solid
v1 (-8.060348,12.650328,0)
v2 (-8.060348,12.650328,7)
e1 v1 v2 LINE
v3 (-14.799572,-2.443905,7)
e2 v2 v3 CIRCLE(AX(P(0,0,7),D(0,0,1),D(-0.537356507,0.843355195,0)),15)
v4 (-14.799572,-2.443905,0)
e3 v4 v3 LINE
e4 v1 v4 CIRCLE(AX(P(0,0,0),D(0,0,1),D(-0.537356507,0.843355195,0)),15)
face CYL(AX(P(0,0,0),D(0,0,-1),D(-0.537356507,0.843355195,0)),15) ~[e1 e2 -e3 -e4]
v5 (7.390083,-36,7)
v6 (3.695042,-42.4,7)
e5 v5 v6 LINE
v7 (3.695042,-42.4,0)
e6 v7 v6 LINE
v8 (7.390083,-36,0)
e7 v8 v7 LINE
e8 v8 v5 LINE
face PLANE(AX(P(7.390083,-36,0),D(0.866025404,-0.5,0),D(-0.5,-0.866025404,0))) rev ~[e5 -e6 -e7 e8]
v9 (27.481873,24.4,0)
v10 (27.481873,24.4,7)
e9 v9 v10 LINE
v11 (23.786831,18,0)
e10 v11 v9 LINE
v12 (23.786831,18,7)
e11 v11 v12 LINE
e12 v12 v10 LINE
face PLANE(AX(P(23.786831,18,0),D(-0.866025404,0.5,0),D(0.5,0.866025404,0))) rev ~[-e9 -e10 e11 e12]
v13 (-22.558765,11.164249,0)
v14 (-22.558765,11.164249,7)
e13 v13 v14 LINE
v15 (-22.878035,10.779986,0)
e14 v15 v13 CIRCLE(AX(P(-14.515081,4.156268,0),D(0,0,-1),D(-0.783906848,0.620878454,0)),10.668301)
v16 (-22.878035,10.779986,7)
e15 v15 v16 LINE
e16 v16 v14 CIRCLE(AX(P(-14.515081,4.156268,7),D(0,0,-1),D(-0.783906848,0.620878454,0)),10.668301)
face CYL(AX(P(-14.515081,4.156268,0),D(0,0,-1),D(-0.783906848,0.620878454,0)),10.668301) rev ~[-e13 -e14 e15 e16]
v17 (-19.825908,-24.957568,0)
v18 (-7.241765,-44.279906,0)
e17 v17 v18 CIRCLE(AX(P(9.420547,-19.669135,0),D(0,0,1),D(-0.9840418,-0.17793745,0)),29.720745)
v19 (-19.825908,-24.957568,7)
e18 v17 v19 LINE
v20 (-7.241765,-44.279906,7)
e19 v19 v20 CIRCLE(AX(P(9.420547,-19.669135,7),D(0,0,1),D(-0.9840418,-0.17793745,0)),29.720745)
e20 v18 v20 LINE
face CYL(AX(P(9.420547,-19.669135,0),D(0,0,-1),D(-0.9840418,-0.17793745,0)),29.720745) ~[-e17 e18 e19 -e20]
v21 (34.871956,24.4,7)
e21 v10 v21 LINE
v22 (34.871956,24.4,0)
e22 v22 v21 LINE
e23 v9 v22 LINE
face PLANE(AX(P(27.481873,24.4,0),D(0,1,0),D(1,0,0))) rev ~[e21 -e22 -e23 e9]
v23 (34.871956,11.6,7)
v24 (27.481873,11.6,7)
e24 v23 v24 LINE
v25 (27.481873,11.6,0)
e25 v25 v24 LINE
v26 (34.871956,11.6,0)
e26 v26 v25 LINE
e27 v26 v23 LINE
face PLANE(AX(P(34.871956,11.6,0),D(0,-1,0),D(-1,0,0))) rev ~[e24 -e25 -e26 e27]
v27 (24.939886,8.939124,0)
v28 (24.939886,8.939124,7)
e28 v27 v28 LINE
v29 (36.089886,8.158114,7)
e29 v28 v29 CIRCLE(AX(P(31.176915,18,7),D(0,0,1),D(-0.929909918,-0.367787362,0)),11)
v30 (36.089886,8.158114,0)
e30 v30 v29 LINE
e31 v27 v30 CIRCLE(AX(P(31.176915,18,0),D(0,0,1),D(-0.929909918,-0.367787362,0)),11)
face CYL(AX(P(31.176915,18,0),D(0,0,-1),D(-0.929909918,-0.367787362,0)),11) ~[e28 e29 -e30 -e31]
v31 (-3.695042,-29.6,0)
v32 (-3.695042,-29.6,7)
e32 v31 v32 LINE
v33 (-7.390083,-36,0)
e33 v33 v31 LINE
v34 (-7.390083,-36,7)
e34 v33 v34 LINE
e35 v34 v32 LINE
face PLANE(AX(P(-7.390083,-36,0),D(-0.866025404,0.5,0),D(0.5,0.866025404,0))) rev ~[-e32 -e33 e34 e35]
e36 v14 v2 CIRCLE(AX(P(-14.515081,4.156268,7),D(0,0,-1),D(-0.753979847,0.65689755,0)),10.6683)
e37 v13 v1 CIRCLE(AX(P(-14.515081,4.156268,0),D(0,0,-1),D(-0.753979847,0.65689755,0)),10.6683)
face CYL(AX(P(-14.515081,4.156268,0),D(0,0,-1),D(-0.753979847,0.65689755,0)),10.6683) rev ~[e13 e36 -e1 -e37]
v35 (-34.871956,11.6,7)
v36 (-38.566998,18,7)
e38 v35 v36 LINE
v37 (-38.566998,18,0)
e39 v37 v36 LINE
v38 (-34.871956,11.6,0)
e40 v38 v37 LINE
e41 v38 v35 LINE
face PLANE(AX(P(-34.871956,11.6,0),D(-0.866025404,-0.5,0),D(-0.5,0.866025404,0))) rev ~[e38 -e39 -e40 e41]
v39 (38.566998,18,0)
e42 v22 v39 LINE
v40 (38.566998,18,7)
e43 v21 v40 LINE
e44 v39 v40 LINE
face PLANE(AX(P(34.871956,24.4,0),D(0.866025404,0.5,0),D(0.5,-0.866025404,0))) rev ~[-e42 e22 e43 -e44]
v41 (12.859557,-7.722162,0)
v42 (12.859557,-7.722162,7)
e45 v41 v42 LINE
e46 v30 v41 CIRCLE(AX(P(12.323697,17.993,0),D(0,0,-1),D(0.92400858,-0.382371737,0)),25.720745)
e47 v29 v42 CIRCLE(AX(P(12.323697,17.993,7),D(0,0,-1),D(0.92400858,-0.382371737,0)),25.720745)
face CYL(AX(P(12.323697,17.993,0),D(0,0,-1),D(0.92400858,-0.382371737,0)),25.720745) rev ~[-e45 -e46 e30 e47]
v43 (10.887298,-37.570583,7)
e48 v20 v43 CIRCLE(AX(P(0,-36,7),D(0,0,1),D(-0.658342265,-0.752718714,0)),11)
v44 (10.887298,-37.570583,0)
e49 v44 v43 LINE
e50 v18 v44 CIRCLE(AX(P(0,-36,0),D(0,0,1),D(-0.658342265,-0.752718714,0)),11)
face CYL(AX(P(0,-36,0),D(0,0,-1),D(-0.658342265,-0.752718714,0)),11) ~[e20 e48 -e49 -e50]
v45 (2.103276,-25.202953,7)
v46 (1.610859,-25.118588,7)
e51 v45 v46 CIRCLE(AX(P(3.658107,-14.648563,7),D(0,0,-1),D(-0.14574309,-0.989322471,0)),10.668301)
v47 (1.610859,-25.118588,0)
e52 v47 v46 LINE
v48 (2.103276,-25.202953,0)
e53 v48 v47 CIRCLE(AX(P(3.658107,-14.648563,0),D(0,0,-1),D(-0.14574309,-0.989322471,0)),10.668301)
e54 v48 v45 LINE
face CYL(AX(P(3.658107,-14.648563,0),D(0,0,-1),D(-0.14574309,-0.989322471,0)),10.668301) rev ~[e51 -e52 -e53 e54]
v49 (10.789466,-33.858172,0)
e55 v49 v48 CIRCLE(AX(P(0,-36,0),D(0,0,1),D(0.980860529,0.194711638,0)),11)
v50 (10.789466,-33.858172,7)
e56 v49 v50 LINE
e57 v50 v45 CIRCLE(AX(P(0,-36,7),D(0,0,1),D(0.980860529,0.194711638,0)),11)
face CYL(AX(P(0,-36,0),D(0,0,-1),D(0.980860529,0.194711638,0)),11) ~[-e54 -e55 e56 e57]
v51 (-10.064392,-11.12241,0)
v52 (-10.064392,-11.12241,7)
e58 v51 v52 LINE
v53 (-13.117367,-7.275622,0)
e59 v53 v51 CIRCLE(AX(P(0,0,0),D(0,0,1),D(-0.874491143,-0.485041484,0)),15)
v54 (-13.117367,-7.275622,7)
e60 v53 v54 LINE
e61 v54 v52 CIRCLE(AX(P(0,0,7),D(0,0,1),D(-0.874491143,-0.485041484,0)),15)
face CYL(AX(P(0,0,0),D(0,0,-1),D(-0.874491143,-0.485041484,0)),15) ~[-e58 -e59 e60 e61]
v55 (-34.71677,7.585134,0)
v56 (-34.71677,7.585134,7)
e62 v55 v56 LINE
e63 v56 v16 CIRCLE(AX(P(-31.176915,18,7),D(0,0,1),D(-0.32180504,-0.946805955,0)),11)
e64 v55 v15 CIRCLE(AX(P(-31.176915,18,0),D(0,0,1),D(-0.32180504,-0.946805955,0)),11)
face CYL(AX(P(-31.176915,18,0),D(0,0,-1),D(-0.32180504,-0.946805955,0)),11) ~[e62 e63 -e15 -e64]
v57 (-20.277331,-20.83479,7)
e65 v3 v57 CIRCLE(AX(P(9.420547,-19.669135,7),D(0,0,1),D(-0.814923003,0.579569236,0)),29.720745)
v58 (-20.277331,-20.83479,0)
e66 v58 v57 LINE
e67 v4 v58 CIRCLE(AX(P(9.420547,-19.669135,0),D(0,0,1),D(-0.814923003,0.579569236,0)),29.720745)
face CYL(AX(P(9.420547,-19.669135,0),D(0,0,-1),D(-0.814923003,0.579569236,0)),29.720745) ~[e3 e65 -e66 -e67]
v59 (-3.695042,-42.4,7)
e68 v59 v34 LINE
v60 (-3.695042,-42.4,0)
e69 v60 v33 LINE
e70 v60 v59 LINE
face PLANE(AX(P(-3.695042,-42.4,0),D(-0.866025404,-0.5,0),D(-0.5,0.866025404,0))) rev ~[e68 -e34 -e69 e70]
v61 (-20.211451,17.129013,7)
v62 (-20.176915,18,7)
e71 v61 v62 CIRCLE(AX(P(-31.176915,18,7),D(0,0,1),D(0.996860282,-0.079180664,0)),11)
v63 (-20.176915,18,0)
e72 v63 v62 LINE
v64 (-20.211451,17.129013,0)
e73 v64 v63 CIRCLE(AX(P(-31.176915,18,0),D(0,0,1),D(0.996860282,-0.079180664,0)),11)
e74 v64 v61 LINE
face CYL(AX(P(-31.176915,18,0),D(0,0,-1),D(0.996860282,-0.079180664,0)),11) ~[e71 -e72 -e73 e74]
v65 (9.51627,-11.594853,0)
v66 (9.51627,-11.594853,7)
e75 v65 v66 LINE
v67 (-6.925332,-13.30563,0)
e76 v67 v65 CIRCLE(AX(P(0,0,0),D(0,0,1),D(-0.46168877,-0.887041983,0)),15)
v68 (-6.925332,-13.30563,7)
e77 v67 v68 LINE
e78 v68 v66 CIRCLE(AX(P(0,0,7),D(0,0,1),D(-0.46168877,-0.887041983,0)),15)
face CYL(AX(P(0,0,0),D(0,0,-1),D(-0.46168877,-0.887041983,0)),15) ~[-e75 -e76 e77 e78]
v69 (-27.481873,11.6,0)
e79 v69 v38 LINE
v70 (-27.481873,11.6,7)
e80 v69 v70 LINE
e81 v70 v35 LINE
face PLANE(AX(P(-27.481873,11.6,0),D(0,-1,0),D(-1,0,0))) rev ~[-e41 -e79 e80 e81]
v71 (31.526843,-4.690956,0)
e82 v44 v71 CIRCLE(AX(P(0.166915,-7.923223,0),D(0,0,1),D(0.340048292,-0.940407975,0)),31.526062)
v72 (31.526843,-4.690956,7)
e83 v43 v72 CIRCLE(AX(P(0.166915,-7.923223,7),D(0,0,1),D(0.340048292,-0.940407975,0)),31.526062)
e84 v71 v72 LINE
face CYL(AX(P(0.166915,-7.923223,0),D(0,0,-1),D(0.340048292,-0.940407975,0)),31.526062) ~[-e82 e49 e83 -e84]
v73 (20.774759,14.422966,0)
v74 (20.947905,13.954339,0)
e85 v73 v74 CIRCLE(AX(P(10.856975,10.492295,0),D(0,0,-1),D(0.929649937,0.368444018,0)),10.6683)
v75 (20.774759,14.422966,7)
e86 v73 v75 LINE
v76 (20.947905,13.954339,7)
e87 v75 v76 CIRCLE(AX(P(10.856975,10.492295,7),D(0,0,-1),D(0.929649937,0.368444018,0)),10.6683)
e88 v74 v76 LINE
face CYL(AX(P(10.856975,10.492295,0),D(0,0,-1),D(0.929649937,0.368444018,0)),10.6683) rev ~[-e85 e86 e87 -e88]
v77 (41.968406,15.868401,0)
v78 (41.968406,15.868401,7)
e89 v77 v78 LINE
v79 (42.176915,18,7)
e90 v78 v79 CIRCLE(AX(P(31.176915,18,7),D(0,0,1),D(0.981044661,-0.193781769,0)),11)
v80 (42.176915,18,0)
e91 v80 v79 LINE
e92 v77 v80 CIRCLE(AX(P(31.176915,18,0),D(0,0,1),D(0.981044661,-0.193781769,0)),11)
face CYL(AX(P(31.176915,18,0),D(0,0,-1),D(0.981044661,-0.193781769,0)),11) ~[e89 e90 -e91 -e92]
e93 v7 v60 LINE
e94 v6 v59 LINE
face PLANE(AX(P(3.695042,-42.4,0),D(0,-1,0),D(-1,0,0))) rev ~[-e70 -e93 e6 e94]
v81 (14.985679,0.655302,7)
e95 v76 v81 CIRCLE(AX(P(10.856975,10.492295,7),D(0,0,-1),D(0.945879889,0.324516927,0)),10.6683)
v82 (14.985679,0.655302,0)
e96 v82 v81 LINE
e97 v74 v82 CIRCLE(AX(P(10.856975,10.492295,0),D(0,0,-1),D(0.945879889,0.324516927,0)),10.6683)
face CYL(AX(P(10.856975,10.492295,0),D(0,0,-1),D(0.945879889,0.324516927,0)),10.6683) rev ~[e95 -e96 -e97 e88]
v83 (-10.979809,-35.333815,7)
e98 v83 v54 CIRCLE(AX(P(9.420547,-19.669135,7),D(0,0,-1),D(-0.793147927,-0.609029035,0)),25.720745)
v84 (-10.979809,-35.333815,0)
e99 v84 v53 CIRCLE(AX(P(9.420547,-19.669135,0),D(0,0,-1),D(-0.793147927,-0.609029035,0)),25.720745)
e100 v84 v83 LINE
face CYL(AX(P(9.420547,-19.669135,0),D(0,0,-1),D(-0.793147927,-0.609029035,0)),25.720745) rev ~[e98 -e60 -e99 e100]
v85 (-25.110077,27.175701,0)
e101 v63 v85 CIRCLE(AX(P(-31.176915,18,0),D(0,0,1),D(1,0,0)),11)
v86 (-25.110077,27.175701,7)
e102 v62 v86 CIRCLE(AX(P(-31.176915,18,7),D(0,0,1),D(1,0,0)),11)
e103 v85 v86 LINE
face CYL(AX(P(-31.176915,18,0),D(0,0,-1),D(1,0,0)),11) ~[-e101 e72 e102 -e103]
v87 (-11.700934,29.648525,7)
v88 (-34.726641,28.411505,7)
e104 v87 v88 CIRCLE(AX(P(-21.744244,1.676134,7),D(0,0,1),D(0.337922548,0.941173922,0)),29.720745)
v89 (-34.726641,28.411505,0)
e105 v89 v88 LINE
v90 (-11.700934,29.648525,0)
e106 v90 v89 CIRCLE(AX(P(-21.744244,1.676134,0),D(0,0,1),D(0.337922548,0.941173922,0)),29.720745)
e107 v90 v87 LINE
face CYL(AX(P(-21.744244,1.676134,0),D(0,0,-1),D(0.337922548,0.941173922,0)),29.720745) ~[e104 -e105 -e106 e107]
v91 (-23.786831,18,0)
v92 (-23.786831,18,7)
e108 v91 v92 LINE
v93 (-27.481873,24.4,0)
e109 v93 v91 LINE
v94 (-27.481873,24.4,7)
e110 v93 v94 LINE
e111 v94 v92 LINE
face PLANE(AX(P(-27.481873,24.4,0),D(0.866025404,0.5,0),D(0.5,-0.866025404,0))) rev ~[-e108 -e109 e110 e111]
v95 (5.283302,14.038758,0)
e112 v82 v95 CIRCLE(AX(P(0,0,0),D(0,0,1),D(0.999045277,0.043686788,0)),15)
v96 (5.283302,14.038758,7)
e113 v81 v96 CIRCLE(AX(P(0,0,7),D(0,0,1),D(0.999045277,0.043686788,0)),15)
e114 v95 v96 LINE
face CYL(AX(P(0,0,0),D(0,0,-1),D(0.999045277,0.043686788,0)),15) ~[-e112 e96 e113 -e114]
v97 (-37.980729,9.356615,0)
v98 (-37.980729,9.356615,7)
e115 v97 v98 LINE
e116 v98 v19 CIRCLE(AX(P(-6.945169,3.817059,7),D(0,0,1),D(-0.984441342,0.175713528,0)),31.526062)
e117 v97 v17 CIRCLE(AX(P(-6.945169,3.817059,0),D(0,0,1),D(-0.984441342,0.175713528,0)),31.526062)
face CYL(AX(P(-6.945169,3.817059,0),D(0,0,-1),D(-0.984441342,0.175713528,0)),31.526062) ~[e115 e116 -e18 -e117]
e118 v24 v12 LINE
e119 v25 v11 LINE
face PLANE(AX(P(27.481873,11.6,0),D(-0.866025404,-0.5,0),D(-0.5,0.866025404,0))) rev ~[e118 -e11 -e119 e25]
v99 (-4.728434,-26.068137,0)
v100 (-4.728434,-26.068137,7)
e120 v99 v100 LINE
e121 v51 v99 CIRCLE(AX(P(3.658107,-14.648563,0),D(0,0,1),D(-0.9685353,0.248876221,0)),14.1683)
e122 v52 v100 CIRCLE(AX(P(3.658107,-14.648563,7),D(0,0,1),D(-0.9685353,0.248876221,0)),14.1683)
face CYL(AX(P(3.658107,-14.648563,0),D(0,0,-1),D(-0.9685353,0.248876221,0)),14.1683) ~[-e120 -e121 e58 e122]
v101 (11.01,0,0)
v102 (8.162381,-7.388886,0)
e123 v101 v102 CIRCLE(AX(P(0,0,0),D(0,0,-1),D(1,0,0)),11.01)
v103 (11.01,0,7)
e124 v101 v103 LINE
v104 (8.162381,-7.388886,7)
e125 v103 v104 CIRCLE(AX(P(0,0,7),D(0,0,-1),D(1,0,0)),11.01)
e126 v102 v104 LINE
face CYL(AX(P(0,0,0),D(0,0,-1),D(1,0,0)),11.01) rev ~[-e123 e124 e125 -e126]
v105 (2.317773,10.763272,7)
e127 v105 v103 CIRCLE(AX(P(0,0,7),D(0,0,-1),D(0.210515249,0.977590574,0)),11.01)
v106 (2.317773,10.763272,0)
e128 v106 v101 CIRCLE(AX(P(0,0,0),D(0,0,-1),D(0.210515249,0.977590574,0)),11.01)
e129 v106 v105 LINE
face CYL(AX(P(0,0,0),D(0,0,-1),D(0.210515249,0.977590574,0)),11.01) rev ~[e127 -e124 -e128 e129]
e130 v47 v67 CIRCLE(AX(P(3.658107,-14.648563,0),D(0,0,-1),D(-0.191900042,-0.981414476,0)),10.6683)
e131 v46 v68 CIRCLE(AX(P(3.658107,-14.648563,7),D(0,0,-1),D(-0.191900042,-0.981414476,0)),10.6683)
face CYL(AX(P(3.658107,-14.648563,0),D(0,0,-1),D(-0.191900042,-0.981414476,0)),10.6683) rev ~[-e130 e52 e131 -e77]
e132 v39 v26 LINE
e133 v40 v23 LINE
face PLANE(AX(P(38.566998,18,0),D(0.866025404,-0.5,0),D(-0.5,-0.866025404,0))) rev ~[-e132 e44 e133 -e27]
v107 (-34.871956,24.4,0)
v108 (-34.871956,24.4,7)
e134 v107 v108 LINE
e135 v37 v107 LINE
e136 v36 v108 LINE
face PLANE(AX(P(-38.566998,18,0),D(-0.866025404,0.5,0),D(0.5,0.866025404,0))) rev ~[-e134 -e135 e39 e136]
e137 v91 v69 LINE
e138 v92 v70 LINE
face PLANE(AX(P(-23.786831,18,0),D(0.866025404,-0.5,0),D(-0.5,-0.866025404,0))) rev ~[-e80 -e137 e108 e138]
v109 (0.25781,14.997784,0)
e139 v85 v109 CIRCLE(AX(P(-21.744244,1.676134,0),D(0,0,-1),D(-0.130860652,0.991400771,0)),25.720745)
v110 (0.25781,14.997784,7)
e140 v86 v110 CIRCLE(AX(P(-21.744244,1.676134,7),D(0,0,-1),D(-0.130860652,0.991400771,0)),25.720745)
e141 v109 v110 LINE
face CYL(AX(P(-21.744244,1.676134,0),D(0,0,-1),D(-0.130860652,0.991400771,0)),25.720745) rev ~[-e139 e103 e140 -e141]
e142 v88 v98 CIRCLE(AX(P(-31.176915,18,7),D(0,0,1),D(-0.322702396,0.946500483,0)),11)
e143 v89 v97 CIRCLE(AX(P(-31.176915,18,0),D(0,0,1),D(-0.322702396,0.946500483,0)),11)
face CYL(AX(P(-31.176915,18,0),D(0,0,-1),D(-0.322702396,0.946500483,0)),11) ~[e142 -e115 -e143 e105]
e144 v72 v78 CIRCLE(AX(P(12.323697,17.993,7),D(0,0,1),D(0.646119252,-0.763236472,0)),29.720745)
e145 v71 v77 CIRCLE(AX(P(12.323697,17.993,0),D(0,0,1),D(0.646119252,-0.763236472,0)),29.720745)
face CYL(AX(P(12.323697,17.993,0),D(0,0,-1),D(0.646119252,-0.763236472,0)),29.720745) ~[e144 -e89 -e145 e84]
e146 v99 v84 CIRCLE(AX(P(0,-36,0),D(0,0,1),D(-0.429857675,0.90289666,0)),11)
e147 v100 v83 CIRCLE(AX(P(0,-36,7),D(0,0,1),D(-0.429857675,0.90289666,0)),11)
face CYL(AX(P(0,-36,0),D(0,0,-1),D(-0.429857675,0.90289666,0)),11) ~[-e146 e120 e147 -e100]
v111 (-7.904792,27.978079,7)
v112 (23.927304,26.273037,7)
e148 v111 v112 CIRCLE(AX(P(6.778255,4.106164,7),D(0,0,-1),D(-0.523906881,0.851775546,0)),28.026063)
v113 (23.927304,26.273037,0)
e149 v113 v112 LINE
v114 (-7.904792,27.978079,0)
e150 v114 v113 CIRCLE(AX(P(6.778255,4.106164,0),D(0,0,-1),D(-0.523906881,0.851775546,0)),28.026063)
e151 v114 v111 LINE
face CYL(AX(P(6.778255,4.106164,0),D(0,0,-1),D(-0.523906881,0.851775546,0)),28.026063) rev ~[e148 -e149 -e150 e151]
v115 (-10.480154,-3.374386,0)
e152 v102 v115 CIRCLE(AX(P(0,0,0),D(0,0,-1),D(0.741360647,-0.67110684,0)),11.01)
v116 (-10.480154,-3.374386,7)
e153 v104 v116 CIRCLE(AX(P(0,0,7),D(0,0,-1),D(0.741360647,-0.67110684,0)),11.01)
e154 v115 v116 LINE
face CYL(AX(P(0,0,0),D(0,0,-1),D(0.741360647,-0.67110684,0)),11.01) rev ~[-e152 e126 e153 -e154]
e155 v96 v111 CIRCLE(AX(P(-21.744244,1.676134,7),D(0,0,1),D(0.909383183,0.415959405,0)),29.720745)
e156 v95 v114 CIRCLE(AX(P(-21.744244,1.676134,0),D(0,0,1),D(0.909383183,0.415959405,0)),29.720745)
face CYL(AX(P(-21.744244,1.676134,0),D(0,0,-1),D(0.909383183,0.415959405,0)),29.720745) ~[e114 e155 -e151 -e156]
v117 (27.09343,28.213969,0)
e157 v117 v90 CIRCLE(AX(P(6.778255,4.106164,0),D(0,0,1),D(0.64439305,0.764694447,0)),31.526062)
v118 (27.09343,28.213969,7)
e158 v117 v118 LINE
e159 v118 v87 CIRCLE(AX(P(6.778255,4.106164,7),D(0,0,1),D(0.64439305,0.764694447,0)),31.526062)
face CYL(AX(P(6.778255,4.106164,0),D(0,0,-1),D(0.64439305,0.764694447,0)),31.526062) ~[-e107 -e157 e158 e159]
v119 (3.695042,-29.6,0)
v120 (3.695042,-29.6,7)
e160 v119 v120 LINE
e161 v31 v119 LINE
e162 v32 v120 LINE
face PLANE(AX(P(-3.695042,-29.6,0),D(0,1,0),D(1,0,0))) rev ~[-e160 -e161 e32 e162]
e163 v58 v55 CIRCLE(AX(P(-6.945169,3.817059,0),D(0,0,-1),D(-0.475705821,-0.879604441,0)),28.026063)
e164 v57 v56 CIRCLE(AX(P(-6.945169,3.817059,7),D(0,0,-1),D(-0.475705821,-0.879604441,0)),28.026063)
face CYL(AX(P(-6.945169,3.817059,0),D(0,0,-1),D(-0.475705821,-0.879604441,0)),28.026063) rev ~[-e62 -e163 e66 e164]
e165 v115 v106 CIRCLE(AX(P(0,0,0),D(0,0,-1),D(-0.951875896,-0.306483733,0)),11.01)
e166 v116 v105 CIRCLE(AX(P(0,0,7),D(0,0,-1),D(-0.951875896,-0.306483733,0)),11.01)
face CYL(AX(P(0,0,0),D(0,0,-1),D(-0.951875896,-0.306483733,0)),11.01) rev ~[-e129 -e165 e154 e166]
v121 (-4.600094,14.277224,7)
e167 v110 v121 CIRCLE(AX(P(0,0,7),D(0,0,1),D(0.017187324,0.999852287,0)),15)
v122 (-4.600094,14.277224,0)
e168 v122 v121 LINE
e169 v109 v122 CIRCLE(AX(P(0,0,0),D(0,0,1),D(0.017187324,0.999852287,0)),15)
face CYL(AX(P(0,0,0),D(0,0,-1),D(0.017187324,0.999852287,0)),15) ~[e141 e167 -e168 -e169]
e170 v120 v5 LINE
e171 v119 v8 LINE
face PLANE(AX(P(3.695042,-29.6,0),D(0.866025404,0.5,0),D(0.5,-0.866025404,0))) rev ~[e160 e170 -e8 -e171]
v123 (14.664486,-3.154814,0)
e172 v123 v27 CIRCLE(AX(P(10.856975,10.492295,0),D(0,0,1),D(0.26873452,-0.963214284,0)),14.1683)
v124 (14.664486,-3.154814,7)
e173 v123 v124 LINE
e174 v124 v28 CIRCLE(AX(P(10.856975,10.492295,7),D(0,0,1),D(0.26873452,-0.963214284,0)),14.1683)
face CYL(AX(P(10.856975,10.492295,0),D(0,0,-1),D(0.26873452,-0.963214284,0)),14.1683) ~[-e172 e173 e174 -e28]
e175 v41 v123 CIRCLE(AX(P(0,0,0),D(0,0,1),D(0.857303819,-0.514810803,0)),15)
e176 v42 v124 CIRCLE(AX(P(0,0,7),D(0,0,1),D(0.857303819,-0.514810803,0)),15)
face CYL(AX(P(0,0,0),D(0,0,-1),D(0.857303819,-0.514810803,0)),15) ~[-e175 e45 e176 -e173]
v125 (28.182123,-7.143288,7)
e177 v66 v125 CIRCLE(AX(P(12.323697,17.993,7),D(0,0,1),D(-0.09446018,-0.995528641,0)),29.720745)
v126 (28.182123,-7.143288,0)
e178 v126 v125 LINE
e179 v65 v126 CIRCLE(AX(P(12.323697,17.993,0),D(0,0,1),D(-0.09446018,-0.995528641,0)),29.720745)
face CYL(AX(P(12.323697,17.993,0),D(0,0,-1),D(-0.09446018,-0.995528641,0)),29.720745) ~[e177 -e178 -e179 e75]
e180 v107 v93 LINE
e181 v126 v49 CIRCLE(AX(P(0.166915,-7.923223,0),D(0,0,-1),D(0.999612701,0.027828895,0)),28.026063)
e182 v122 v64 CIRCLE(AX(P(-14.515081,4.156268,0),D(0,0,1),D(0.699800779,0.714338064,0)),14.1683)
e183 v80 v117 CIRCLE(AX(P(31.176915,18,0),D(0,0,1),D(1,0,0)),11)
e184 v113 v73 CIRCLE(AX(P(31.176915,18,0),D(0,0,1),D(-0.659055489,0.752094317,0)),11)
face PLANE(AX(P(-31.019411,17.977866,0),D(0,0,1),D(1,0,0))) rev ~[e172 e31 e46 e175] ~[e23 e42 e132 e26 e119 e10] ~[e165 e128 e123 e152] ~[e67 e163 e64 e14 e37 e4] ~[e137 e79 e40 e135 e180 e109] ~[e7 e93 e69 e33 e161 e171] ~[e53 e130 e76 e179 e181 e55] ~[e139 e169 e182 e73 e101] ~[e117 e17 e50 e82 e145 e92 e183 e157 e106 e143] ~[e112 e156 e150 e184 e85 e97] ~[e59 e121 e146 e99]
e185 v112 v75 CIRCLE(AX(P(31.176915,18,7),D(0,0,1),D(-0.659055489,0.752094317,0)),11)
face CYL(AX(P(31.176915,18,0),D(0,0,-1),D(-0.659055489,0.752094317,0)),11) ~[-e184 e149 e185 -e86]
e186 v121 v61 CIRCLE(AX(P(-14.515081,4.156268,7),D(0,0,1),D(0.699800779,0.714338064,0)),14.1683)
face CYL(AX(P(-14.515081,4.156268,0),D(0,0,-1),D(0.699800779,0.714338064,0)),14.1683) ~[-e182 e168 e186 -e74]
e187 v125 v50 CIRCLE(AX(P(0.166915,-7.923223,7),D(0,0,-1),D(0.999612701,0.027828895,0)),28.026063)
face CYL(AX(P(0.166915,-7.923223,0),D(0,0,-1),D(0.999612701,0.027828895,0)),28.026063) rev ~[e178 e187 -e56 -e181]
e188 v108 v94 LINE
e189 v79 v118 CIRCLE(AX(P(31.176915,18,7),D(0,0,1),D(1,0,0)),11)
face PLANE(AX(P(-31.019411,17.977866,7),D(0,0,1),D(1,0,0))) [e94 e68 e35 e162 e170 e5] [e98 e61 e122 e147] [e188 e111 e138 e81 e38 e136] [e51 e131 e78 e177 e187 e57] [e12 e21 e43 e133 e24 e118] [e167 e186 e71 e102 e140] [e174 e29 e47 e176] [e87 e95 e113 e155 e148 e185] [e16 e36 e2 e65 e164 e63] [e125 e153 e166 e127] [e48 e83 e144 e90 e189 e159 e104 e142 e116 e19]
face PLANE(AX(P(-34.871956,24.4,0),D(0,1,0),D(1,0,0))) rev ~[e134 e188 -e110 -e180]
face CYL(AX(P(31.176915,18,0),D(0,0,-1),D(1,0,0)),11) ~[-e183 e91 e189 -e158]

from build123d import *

# Parameters (mm, degrees)
F1_DEPTH = 7


with BuildPart() as f1:
    # F0 (on Top) → F1 (new body)
    with BuildSketch(Plane.XY):
        with BuildLine():
            ThreePointArc((-20.1769145362, 18), (-21.488385021, 23.2088766383), (-25.110077415, 27.1757009184))
            ThreePointArc((-25.110077415, 27.1757009184), (-29.7748571992, 28.9102811707), (-34.7266408906, 28.4115053095))
            ThreePointArc((-34.7266408906, 28.4115053095), (-42.0199383865, 19.8517110421), (-37.9807286986, 9.3566145033))
            ThreePointArc((-37.9807286986, 9.3566145033), (-36.4240480944, 8.3321362534), (-34.7167699787, 7.585134497))
            ThreePointArc((-34.7167699787, 7.585134497), (-28.3109335724, 7.379917462), (-22.878035033, 10.7799862195))
            ThreePointArc((-22.878035033, 10.7799862195), (-22.7206495749, 10.9739866522), (-22.5587647959, 11.1642487573))
            ThreePointArc((-22.5587647959, 11.1642487573), (-20.9409937058, 13.9718583996), (-20.2114514306, 17.1290126994))
            ThreePointArc((-20.2114514306, 17.1290126994), (-20.1855521511, 17.5641641149), (-20.1769145362, 18))
        make_face()
        Polygon((-27.4818728134, 24.4), (-23.7868310906, 18), (-27.4818728134, 11.6), (-34.8719562591, 11.6), (-38.5669979819, 18), (-34.8719562591, 24.4), align=None, mode=Mode.SUBTRACT)
        with BuildLine():
            ThreePointArc((-25.110077415, 27.1757009184), (-10.6130898996, 24.8635046125), (0.2578098611, 14.9977843055))
            ThreePointArc((0.2578098611, 14.9977843055), (2.8117454732, 14.7341130508), (5.2833018212, 14.0387578463))
            ThreePointArc((5.2833018212, 14.0387578463), (-0.1548013079, 22.1020653498), (-7.9047923881, 27.9780786067))
            ThreePointArc((-7.9047923881, 27.9780786067), (-9.7736896067, 28.8795995701), (-11.7009340456, 29.6485246209))
            ThreePointArc((-11.7009340456, 29.6485246209), (-23.3386442583, 31.3540820363), (-34.7266408906, 28.4115053095))
            ThreePointArc((-34.7266408906, 28.4115053095), (-29.7748571992, 28.9102811707), (-25.110077415, 27.1757009184))
        make_face()
        with BuildLine():
            ThreePointArc((-10.4801536135, -3.3743859051), (-8.1623807228, 7.3888863123), (2.3177728907, 10.7632722175))
            ThreePointArc((2.3177728907, 10.7632722175), (1.3849026925, 12.9277700022), (0.2578098611, 14.9977843055))
            ThreePointArc((0.2578098611, 14.9977843055), (-2.2008314196, 14.8376662943), (-4.6000937333, 14.2772244377))
            ThreePointArc((-4.6000937333, 14.2772244377), (-6.3822716771, 13.5744837191), (-8.0603476006, 12.6503279229))
            ThreePointArc((-8.0603476006, 12.6503279229), (-13.6968225738, 6.1153128606), (-14.799571843, -2.4439053302))
            ThreePointArc((-14.799571843, -2.4439053302), (-14.1659889408, -4.9320135166), (-13.1173671396, -7.2756222638))
            ThreePointArc((-13.1173671396, -7.2756222638), (-11.8882285824, -5.2645240876), (-10.4801536135, -3.3743859051))
        make_face()
        with BuildLine():
            ThreePointArc((2.3177728907, 10.7632722175), (8.565593369, 6.9174207792), (11.01, 0))
            ThreePointArc((11.01, 0), (10.273458808, -3.9593110665), (8.1623807228, -7.3888863123))
            ThreePointArc((8.1623807228, -7.3888863123), (10.5033258899, -7.6632459146), (12.8595572786, -7.7221620418))
            ThreePointArc((12.8595572786, -7.7221620418), (13.9502116536, -5.5128572283), (14.6644859253, -3.154814186))
            ThreePointArc((14.6644859253, -3.154814186), (14.9158856405, -1.5863024808), (15, 0))
            ThreePointArc((15, 0), (14.9964193596, 0.327729144), (14.9856791478, 0.655301824))
            ThreePointArc((14.9856791478, 0.655301824), (12.1444275762, 8.8041398697), (5.2833018212, 14.0387578463))
            ThreePointArc((5.2833018212, 14.0387578463), (2.8117454732, 14.7341130508), (0.2578098611, 14.9977843055))
            ThreePointArc((0.2578098611, 14.9977843055), (1.3849026925, 12.9277700022), (2.3177728907, 10.7632722175))
        make_face()
        with BuildLine():
            ThreePointArc((12.8595572786, -7.7221620418), (10.5033258899, -7.6632459146), (8.1623807228, -7.3888863123))
            ThreePointArc((8.1623807228, -7.3888863123), (-2.3177728907, -10.7632722175), (-10.4801536135, -3.3743859051))
            ThreePointArc((-10.4801536135, -3.3743859051), (-11.8882285824, -5.2645240876), (-13.1173671396, -7.2756222638))
            ThreePointArc((-13.1173671396, -7.2756222638), (-11.749380234, -9.324809066), (-10.0643921919, -11.1224102517))
            ThreePointArc((-10.0643921919, -11.1224102517), (-8.5647119055, -12.3144512657), (-6.9253315472, -13.3056297469))
            ThreePointArc((-6.9253315472, -13.3056297469), (1.5523949975, -14.9194527303), (9.5162700219, -11.5948525161))
            ThreePointArc((9.5162700219, -11.5948525161), (11.3542434676, -9.8020995342), (12.8595572786, -7.7221620418))
        make_face()
        with BuildLine():
            ThreePointArc((-10.9798086535, -35.3338153916), (-16.2258816717, -21.6229577719), (-13.1173671396, -7.2756222638))
            ThreePointArc((-13.1173671396, -7.2756222638), (-14.1659889408, -4.9320135166), (-14.799571843, -2.4439053302))
            ThreePointArc((-14.799571843, -2.4439053302), (-19.0635494151, -11.1850945401), (-20.2773306285, -20.8347903231))
            ThreePointArc((-20.2773306285, -20.8347903231), (-20.1236220755, -22.9040632731), (-19.8259084836, -24.957568442))
            ThreePointArc((-19.8259084836, -24.957568442), (-15.4841094266, -35.8888998357), (-7.2417649124, -44.2799058541))
            ThreePointArc((-7.2417649124, -44.2799058541), (-10.1496093248, -40.2409233139), (-10.9798086535, -35.3338153916))
        make_face()
        with BuildLine():
            ThreePointArc((-8.0603476006, 12.6503279229), (-6.3822716771, 13.5744837191), (-4.6000937333, 14.2772244377))
            ThreePointArc((-4.6000937333, 14.2772244377), (-11.9690338946, 18.0939285598), (-20.2114514306, 17.1290126994))
            ThreePointArc((-20.2114514306, 17.1290126994), (-20.9409937058, 13.9718583996), (-22.5587647959, 11.1642487573))
            ThreePointArc((-22.5587647959, 11.1642487573), (-15.6028763872, 14.7689652749), (-8.0603476006, 12.6503279229))
        make_face()
        with BuildLine():
            ThreePointArc((36.0898860685, 8.1581144732), (26.8389715713, -3.2405468406), (12.8595572786, -7.7221620418))
            ThreePointArc((12.8595572786, -7.7221620418), (11.3542434676, -9.8020995342), (9.5162700219, -11.5948525161))
            ThreePointArc((9.5162700219, -11.5948525161), (19.218350723, -10.9169708097), (28.1821230165, -7.1432882836))
            ThreePointArc((28.1821230165, -7.1432882836), (29.8973116822, -5.9755362969), (31.5268425292, -4.6909561789))
            ThreePointArc((31.5268425292, -4.6909561789), (38.8227536849, 4.5348177995), (41.9684058031, 15.8684005447))
            ThreePointArc((41.9684058031, 15.8684005447), (39.924466524, 11.3306421432), (36.0898860685, 8.1581144732))
        make_face()
        with BuildLine():
            ThreePointArc((24.9398858547, 8.9391240365), (30.4082951127, 7.0268863042), (36.0898860685, 8.1581144732))
            ThreePointArc((36.0898860685, 8.1581144732), (39.924466524, 11.3306421432), (41.9684058031, 15.8684005447))
            ThreePointArc((41.9684058031, 15.8684005447), (42.1246632531, 16.9291134362), (42.1769145362, 18))
            ThreePointArc((42.1769145362, 18), (37.3446399002, 27.1081921277), (27.0934302026, 28.2139686556))
            ThreePointArc((27.0934302026, 28.2139686556), (25.4278657104, 27.3780828317), (23.9273041549, 26.2730374904))
            ThreePointArc((23.9273041549, 26.2730374904), (20.5466627861, 20.8280289476), (20.774759435, 14.4229664175))
            ThreePointArc((20.774759435, 14.4229664175), (20.8640760091, 14.1896663962), (20.9479054359, 13.9543390126))
            ThreePointArc((20.9479054359, 13.9543390126), (22.570481165, 11.1495033299), (24.9398858547, 8.9391240365))
        make_face()
        Polygon((34.8719562591, 24.4), (38.5669979819, 18), (34.8719562591, 11.6), (27.4818728134, 11.6), (23.7868310906, 18), (27.4818728134, 24.4), align=None, mode=Mode.SUBTRACT)
        with BuildLine():
            ThreePointArc((-4.7284344241, -26.0681367359), (-9.1186855075, -29.8477992055), (-10.9798086535, -35.3338153916))
            ThreePointArc((-10.9798086535, -35.3338153916), (-10.1496093248, -40.2409233139), (-7.2417649124, -44.2799058541))
            ThreePointArc((-7.2417649124, -44.2799058541), (3.8178831222, -46.3161896292), (10.887298496, -37.5705831589))
            ThreePointArc((10.887298496, -37.5705831589), (10.9717884471, -36.7873107849), (11, -36))
            ThreePointArc((11, -36), (10.9472399275, -34.9239247384), (10.7894658239, -33.8581719874))
            ThreePointArc((10.7894658239, -33.8581719874), (7.7642707863, -28.2079464095), (2.1032755979, -25.202952637))
            ThreePointArc((2.1032755979, -25.202952637), (1.8565735658, -25.1636530484), (1.61085936, -25.1185877699))
            ThreePointArc((1.61085936, -25.1185877699), (-1.6294874593, -25.1213617295), (-4.7284344241, -26.0681367359))
        make_face()
        Polygon((3.6950417228, -42.4), (-3.6950417228, -42.4), (-7.3900834456, -36), (-3.6950417228, -29.6), (3.6950417228, -29.6), (7.3900834456, -36), align=None, mode=Mode.SUBTRACT)
        with BuildLine():
            ThreePointArc((15, 0), (14.9158856405, -1.5863024808), (14.6644859253, -3.154814186))
            ThreePointArc((14.6644859253, -3.154814186), (21.6543187343, 1.3185231315), (24.9398858547, 8.9391240365))
            ThreePointArc((24.9398858547, 8.9391240365), (22.570481165, 11.1495033299), (20.9479054359, 13.9543390126))
            ThreePointArc((20.9479054359, 13.9543390126), (20.5917373093, 6.128004686), (14.9856791478, 0.655301824))
            ThreePointArc((14.9856791478, 0.655301824), (14.9964193596, 0.327729144), (15, 0))
        make_face()
        with BuildLine():
            ThreePointArc((-6.9253315472, -13.3056297469), (-8.5647119055, -12.3144512657), (-10.0643921919, -11.1224102517))
            ThreePointArc((-10.0643921919, -11.1224102517), (-9.6852848398, -19.4124516913), (-4.7284344241, -26.0681367359))
            ThreePointArc((-4.7284344241, -26.0681367359), (-1.6294874593, -25.1213617295), (1.61085936, -25.1185877699))
            ThreePointArc((1.61085936, -25.1185877699), (-4.9888609221, -20.8969699609), (-6.9253315472, -13.3056297469))
        make_face()
        with BuildLine():
            ThreePointArc((-19.8259084836, -24.957568442), (-20.1236220755, -22.9040632731), (-20.2773306285, -20.8347903231))
            ThreePointArc((-20.2773306285, -20.8347903231), (-31.931222333, -8.87771769), (-34.7167699787, 7.585134497))
            ThreePointArc((-34.7167699787, 7.585134497), (-36.4240480944, 8.3321362534), (-37.9807286986, 9.3566145033))
            ThreePointArc((-37.9807286986, 9.3566145033), (-34.8113873846, -10.9262960202), (-19.8259084836, -24.957568442))
        make_face()
        with BuildLine():
            ThreePointArc((-11.7009340456, 29.6485246209), (-9.7736896067, 28.8795995701), (-7.9047923881, 27.9780786067))
            ThreePointArc((-7.9047923881, 27.9780786067), (8.2772821194, 32.0921085593), (23.9273041549, 26.2730374904))
            ThreePointArc((23.9273041549, 26.2730374904), (25.4278657104, 27.3780828317), (27.0934302026, 28.2139686556))
            ThreePointArc((27.0934302026, 28.2139686556), (7.9432437696, 35.6106938262), (-11.7009340456, 29.6485246209))
        make_face()
        with BuildLine():
            ThreePointArc((31.5268425292, -4.6909561789), (29.8973116822, -5.9755362969), (28.1821230165, -7.1432882836))
            ThreePointArc((28.1821230165, -7.1432882836), (23.6539402137, -23.2143908693), (10.7894658239, -33.8581719874))
            ThreePointArc((10.7894658239, -33.8581719874), (10.9472399275, -34.9239247384), (11, -36))
            ThreePointArc((11, -36), (10.9717884471, -36.7873107849), (10.887298496, -37.5705831589))
            ThreePointArc((10.887298496, -37.5705831589), (26.8681436151, -24.684397806), (31.5268425292, -4.6909561789))
        make_face()
    extrude(amount=F1_DEPTH)


solid = f1.part
